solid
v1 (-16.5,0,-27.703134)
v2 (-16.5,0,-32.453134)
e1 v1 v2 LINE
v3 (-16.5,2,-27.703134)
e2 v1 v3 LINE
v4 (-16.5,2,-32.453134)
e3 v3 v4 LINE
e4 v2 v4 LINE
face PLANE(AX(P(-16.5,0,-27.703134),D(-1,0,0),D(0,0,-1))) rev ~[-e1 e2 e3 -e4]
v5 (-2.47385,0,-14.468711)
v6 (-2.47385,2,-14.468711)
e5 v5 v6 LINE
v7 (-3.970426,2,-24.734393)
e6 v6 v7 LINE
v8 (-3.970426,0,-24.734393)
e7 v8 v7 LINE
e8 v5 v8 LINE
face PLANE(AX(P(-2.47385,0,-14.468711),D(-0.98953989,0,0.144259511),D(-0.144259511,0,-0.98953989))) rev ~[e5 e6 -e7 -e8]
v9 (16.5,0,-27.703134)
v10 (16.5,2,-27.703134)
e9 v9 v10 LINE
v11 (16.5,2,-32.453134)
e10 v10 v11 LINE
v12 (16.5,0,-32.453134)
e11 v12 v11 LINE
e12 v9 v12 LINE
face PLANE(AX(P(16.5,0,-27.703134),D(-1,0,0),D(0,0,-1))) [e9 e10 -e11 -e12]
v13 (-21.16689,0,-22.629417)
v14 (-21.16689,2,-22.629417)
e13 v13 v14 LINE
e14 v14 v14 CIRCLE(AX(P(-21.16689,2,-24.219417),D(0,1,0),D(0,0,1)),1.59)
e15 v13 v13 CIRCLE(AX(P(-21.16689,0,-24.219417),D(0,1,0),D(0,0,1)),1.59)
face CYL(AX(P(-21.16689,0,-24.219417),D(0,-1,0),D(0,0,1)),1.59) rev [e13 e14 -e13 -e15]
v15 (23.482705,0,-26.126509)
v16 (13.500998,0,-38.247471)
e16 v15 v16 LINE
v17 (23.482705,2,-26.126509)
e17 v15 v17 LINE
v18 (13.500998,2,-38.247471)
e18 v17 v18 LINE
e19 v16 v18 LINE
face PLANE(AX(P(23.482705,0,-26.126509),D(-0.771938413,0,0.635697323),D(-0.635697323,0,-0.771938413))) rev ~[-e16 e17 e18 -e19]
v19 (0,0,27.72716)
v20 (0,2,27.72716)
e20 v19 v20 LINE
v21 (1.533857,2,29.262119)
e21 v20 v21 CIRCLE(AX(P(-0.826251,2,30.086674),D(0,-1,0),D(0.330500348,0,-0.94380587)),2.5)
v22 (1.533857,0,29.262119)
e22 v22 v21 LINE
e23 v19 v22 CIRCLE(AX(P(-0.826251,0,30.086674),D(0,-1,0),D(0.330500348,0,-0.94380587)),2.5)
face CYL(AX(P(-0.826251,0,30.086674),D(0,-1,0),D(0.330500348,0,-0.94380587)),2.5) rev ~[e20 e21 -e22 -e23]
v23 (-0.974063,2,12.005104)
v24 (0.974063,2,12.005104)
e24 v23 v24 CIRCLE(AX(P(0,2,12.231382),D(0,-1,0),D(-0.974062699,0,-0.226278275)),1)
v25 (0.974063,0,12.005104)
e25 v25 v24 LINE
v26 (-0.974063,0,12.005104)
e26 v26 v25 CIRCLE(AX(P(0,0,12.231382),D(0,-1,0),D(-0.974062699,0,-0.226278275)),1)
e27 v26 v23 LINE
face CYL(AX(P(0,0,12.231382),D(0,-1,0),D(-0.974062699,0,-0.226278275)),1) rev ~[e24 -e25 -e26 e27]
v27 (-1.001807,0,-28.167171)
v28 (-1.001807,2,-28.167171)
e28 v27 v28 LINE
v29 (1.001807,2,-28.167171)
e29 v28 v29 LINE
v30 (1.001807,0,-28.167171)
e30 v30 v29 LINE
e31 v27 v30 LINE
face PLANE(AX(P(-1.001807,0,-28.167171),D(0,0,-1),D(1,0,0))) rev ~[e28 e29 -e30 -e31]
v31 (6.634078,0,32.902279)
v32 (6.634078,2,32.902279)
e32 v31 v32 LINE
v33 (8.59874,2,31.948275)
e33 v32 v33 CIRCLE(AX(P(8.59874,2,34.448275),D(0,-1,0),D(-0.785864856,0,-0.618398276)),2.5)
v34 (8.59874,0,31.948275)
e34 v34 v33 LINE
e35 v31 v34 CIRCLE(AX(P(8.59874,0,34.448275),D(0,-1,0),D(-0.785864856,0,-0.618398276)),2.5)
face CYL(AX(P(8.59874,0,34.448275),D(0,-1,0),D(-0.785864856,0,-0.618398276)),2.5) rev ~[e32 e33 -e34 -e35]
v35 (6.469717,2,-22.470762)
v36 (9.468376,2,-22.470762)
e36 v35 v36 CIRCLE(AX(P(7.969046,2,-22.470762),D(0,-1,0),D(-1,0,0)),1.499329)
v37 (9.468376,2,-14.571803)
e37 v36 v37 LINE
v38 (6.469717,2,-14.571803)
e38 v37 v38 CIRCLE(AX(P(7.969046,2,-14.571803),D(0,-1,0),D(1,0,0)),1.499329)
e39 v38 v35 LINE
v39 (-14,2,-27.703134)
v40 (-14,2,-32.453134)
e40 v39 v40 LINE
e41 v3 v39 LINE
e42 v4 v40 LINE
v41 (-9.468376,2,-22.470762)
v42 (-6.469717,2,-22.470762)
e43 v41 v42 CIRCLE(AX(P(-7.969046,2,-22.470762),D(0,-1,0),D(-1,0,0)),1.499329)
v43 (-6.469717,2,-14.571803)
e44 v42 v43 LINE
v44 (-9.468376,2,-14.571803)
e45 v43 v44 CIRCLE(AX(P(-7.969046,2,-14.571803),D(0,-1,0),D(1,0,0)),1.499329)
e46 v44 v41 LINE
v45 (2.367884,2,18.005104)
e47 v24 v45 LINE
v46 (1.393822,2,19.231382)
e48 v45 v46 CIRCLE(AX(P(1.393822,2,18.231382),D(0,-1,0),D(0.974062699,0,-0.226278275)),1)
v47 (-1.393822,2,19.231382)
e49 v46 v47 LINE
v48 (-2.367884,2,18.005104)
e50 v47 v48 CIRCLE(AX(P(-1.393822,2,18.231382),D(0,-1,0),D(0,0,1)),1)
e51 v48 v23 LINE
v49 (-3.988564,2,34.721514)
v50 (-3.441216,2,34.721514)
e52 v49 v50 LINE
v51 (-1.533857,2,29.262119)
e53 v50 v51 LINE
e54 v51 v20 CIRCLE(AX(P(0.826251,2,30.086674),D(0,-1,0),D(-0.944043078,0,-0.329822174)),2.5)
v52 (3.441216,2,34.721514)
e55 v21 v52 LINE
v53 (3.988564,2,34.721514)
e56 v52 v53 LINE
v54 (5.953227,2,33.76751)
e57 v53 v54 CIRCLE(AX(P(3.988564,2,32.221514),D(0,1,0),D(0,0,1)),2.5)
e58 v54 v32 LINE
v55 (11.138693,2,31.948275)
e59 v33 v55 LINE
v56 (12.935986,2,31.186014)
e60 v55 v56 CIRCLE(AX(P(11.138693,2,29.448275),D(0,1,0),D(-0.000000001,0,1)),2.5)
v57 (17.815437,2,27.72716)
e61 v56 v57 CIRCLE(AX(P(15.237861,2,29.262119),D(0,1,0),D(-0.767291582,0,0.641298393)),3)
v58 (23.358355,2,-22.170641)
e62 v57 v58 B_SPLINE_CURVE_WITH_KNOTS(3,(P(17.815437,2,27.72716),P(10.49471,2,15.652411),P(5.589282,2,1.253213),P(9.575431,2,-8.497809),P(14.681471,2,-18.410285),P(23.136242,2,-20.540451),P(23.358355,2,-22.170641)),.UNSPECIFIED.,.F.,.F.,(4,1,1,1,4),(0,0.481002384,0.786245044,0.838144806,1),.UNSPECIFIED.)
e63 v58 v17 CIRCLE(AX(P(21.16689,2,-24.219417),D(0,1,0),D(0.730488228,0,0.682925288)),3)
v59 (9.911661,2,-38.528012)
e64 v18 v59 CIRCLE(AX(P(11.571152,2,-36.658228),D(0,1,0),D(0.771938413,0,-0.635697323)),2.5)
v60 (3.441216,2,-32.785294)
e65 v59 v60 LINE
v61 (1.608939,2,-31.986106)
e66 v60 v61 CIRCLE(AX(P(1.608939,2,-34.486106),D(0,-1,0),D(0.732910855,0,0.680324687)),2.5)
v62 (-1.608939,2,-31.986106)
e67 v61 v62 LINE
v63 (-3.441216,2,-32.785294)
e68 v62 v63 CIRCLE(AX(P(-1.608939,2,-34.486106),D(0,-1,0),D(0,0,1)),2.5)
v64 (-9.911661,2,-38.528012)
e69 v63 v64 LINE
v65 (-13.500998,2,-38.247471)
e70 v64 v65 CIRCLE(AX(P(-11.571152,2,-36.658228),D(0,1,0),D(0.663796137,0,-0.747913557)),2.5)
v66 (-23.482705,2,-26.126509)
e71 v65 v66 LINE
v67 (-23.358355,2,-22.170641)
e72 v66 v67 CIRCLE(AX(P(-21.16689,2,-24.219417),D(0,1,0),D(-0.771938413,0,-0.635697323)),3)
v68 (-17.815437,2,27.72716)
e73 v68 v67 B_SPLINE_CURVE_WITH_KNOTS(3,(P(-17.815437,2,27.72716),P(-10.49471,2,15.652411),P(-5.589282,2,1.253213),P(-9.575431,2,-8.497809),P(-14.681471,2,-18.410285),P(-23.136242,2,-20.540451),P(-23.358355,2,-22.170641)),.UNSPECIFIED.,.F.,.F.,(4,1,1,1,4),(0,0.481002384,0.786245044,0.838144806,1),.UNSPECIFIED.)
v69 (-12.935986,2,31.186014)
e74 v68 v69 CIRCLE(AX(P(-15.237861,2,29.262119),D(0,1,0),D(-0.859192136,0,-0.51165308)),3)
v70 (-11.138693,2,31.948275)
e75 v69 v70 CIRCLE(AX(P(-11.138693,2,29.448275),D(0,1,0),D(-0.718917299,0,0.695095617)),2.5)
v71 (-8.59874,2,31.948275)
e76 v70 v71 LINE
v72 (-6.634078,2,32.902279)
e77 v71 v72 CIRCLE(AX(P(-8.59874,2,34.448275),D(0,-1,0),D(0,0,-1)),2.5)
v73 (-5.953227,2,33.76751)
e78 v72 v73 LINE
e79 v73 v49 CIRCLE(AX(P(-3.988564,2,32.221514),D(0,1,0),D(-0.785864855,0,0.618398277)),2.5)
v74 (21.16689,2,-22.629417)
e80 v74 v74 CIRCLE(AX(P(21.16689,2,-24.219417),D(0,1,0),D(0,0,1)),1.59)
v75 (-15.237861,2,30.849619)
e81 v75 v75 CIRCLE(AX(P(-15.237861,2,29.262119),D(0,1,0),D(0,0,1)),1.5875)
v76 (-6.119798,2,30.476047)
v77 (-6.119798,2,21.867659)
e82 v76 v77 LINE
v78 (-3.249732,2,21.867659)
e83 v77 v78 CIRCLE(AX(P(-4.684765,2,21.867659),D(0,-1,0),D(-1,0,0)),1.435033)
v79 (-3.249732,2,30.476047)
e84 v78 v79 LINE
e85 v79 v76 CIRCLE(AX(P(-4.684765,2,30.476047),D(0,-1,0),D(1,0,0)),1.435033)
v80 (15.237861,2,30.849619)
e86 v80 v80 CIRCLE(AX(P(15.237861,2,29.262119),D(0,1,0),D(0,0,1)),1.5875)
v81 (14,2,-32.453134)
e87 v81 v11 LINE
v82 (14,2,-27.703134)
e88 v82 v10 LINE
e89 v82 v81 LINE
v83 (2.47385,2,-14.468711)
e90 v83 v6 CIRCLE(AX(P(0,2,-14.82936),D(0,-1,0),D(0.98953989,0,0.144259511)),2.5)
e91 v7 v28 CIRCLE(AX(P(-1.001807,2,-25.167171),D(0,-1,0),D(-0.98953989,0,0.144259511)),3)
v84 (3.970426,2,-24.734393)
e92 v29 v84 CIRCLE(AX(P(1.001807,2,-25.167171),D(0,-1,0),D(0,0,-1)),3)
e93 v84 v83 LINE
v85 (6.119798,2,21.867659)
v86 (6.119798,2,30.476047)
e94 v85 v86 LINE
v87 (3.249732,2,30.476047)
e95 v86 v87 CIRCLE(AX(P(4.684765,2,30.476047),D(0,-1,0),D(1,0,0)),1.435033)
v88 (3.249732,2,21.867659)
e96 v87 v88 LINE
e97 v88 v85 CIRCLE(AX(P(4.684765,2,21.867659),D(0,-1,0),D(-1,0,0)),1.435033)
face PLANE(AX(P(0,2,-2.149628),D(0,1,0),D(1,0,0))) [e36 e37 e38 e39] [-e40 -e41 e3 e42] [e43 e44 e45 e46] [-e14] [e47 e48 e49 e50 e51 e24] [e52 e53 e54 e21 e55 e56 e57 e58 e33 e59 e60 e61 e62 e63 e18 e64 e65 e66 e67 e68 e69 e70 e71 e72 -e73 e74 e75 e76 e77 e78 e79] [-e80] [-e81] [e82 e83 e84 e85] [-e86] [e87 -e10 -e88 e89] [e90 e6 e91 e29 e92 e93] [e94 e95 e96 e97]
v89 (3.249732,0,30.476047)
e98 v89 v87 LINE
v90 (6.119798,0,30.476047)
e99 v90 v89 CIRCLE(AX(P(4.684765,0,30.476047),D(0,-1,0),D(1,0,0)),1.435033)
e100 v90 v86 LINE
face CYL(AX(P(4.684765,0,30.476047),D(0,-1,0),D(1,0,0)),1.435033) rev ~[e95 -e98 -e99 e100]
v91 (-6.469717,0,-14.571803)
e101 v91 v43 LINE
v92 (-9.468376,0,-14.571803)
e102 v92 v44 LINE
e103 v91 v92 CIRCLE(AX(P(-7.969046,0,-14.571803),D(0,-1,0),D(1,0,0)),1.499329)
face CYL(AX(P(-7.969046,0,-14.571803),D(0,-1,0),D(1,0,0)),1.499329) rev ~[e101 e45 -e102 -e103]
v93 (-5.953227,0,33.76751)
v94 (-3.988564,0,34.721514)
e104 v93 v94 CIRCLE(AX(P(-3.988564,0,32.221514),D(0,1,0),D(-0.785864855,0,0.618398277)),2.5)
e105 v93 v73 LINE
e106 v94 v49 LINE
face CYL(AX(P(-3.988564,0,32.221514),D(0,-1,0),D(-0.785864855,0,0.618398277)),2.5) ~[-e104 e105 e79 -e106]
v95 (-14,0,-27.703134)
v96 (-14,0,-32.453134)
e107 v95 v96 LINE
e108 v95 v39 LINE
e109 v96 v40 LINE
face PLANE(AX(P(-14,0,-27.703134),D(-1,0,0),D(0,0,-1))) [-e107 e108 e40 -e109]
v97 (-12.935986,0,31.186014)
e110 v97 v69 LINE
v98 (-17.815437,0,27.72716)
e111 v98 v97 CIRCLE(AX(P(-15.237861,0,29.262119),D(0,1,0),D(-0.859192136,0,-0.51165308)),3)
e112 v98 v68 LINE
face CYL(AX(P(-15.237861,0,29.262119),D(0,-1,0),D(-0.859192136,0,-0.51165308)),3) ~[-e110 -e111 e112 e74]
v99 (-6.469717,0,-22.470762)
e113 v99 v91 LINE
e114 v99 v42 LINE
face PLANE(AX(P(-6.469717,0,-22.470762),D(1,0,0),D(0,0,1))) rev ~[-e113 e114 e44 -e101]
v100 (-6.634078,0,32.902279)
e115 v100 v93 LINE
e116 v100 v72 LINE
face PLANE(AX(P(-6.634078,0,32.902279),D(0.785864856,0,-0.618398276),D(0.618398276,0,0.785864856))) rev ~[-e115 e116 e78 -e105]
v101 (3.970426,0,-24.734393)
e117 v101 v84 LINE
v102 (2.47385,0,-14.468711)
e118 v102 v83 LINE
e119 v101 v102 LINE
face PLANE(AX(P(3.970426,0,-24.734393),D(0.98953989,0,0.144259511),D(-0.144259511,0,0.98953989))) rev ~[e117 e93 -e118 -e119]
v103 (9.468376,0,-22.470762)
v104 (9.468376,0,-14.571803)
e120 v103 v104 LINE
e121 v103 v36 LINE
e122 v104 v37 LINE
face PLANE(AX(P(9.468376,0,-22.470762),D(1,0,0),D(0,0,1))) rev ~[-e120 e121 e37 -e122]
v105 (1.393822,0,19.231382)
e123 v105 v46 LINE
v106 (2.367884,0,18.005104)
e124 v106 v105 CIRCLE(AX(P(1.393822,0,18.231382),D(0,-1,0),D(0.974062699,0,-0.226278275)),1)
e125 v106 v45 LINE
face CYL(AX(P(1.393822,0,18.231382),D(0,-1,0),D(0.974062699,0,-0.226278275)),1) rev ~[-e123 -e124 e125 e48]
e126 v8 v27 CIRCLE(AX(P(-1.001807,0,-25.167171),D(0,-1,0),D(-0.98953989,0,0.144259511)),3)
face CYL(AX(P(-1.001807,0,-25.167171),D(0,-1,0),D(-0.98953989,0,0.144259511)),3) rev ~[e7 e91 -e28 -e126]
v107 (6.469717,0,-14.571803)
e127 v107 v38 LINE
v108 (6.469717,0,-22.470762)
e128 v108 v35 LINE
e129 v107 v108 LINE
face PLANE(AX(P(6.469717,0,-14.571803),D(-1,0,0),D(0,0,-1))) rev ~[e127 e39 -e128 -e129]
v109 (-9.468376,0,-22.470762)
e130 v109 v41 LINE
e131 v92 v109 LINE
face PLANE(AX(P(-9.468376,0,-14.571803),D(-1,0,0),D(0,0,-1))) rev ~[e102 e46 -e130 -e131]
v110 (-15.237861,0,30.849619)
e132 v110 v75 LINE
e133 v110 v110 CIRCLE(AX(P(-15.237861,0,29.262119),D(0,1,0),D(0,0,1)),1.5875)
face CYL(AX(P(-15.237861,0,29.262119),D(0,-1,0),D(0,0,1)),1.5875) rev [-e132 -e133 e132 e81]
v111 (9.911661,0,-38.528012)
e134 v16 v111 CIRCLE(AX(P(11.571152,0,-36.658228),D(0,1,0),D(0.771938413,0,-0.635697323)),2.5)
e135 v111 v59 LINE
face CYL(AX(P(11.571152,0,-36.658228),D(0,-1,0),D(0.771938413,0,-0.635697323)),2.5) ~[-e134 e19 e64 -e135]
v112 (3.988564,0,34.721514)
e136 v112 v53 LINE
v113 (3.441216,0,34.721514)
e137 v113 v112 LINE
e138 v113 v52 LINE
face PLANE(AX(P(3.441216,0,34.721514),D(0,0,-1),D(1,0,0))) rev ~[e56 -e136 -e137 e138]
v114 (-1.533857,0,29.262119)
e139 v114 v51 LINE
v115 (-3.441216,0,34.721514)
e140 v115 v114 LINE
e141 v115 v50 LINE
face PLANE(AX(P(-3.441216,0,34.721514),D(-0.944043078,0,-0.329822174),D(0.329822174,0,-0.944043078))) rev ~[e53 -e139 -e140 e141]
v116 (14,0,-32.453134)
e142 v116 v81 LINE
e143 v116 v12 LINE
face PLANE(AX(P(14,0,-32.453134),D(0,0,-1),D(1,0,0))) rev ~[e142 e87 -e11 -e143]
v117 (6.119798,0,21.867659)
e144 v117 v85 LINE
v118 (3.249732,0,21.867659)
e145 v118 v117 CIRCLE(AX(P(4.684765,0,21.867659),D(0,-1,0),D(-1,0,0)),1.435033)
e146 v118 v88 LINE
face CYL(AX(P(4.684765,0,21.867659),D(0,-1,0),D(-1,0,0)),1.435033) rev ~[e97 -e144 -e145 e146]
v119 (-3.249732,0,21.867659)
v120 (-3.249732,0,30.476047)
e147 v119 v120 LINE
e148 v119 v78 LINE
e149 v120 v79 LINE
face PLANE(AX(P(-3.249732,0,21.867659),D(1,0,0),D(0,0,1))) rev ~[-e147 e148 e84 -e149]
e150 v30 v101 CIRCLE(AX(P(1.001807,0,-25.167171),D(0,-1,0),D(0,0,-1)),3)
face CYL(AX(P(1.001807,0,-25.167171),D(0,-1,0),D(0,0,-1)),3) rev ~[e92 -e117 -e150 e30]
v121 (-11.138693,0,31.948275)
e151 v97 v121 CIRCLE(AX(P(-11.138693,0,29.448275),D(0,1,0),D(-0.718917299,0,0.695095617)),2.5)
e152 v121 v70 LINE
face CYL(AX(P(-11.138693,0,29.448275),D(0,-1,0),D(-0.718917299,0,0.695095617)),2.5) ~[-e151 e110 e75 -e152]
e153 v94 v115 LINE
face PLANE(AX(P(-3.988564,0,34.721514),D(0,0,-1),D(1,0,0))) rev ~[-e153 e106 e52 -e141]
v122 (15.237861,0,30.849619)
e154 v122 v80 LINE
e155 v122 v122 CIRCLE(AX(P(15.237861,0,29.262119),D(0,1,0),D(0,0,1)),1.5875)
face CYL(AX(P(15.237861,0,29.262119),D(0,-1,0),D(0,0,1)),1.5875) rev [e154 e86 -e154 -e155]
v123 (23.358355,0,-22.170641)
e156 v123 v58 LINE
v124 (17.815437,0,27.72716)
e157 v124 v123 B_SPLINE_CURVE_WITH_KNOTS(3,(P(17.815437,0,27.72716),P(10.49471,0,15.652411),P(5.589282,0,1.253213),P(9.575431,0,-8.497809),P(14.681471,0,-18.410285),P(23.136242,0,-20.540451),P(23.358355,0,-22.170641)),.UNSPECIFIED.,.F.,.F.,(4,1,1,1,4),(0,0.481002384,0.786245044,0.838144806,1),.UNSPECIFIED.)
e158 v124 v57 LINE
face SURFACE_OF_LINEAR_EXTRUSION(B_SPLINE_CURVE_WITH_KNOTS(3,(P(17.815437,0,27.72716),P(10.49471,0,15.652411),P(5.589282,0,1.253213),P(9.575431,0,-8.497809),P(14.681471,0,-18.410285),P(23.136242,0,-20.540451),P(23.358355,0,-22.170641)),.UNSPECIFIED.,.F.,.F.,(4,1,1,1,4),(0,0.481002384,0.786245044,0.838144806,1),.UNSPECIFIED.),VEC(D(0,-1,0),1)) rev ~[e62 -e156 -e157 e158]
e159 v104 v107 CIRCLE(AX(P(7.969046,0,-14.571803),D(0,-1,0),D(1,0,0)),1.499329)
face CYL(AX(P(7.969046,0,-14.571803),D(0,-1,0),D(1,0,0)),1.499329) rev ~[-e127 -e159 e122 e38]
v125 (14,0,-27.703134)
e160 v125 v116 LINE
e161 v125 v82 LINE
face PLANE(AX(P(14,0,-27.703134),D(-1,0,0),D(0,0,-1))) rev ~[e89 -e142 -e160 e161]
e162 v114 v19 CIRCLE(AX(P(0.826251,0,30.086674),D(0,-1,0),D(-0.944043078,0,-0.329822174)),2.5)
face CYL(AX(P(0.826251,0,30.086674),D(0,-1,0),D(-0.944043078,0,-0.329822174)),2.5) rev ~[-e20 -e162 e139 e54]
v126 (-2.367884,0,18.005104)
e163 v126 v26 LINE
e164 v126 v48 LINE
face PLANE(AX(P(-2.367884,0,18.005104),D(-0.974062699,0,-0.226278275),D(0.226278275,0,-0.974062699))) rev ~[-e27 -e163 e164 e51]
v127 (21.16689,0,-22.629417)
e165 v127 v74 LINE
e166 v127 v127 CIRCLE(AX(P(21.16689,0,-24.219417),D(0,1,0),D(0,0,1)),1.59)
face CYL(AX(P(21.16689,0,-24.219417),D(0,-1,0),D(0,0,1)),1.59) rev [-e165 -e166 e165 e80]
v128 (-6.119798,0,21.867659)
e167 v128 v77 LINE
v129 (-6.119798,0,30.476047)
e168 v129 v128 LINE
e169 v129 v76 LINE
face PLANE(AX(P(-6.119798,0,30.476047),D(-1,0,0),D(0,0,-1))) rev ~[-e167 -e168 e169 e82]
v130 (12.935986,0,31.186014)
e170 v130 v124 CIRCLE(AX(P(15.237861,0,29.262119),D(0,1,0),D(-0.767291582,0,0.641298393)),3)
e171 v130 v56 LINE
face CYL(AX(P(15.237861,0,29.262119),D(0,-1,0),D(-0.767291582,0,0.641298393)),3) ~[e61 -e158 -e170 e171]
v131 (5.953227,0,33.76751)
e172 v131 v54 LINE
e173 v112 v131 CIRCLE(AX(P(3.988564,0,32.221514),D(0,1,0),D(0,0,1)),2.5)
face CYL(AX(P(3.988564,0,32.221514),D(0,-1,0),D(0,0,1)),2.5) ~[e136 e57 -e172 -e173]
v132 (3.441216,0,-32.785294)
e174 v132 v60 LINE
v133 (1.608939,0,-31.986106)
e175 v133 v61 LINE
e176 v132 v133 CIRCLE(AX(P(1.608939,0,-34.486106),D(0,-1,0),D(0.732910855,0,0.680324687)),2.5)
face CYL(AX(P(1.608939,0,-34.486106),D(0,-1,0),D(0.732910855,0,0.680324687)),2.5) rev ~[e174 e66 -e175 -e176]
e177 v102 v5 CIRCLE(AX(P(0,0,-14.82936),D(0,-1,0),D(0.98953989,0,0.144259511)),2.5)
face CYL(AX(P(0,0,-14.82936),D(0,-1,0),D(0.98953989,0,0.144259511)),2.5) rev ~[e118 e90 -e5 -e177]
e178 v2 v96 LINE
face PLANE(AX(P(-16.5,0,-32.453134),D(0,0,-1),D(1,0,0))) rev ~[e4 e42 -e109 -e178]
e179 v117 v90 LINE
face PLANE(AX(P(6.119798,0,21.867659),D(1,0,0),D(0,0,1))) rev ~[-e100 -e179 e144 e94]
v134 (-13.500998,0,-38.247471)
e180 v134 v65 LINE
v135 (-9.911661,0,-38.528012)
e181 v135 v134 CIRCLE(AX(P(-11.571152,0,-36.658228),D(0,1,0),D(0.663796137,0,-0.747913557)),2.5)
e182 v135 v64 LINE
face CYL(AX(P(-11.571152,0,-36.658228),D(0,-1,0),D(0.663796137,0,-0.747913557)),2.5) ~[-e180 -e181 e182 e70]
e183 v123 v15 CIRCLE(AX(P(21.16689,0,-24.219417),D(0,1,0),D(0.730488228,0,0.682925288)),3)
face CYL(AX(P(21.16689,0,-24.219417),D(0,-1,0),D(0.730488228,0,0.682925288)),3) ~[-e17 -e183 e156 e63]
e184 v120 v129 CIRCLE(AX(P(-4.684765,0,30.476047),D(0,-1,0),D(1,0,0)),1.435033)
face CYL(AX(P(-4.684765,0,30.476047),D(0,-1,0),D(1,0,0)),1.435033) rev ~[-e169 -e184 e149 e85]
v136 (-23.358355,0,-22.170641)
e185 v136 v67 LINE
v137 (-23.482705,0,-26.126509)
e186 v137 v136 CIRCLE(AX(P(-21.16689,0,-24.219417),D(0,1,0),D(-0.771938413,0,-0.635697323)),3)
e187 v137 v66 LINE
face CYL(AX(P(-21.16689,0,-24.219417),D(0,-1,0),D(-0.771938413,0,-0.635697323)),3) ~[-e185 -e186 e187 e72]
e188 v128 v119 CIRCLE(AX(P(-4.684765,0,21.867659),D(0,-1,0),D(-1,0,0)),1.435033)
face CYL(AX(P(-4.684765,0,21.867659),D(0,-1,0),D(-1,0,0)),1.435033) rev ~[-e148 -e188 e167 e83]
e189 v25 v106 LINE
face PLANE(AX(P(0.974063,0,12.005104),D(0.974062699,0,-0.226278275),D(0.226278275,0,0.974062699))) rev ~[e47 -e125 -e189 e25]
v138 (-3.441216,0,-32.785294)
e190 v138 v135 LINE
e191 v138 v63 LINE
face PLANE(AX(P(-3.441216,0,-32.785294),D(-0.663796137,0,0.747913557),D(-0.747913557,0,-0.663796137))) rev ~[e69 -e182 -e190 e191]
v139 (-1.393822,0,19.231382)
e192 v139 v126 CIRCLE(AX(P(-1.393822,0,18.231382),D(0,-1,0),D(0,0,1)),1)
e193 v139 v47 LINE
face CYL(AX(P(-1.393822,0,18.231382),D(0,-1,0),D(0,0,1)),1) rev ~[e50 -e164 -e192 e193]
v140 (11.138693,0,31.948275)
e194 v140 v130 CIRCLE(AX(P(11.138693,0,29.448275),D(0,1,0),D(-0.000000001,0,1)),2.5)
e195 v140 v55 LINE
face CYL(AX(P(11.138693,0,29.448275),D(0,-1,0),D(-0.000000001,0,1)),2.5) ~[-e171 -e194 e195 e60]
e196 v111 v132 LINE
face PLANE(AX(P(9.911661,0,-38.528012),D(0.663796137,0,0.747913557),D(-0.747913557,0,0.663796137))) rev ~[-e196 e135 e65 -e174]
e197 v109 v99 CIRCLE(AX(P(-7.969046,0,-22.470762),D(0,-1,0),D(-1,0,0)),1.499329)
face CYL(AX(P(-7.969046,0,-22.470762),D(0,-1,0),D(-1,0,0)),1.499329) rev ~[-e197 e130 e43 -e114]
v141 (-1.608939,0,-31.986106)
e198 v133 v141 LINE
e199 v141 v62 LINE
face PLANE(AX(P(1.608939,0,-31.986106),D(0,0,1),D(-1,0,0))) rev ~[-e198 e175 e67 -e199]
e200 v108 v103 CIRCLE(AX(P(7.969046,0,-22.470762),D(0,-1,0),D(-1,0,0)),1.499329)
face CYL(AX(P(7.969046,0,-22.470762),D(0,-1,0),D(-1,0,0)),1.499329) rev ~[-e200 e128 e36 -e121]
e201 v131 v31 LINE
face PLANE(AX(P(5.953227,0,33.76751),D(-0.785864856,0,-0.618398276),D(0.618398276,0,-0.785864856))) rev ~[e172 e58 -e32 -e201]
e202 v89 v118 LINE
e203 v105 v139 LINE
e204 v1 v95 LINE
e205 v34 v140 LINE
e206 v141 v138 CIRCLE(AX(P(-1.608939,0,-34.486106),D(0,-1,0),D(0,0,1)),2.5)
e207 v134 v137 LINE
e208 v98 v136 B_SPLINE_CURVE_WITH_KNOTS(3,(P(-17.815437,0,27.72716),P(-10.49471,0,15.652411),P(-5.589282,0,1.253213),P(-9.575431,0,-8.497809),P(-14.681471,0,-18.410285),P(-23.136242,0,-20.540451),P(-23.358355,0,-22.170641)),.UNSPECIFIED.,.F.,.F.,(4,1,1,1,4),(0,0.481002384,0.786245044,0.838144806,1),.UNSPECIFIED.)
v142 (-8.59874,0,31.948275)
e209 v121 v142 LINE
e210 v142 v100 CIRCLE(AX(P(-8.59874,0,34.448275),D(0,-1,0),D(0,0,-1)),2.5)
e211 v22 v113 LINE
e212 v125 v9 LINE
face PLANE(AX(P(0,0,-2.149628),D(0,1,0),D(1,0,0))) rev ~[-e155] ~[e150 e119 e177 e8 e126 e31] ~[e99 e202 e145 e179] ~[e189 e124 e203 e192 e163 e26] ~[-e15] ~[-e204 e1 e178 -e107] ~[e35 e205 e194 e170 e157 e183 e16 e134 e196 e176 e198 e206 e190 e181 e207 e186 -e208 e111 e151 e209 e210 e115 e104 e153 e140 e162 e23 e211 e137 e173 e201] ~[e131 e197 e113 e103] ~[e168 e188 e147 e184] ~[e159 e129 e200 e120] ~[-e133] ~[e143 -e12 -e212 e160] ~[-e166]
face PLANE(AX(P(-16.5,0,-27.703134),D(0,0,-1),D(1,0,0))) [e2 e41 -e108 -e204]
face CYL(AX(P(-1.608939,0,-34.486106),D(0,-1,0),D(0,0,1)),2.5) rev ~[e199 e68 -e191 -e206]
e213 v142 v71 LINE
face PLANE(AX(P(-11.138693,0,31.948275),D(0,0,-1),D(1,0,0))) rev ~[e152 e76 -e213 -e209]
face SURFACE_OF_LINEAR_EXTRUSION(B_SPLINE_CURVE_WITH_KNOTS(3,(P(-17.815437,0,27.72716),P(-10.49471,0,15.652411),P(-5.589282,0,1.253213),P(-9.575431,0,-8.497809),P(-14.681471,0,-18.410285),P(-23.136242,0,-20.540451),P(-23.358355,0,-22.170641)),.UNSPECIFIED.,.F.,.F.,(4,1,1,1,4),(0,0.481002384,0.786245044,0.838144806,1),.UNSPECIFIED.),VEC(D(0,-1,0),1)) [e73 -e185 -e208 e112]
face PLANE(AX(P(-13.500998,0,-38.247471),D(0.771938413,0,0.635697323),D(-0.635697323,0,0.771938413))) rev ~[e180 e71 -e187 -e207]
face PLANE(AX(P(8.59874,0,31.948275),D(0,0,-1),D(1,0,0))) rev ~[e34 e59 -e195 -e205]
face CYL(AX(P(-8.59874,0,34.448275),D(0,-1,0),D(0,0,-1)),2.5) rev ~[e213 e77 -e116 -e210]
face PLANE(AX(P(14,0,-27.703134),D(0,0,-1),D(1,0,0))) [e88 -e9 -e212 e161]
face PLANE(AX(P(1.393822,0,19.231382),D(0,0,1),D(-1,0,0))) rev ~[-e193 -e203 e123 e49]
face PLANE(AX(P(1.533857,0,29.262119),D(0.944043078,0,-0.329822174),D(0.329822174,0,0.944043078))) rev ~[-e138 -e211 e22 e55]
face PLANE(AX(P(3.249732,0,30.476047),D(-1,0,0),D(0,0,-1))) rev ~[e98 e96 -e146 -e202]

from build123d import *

# Parameters (mm, degrees)
CROQUIS1_R              = 1.5875
CROQUIS1_R_2            = 1.59
CROQUIS1_W              = 2.5
CROQUIS1_H              = 4.75
SALIENTE_EXTRUIR2_DEPTH = 2


with BuildPart() as part:
    # Croquis1 → Saliente-Extruir2 (new body)
    with BuildSketch(Plane(origin=(0, 0, 0), x_dir=(1, 0, 0), z_dir=(0, 1, 0))):
        with BuildLine():
            Line((-13.500997661, 38.247470948), (-23.48270506, 26.126508519))
            ThreePointArc((-23.48270506, 26.126508519), (-24.165408731, 24.125159739), (-23.358354505, 22.170640687))
            add(Edge.make_bspline(
                [(-17.815436951, -27.727159764), (-10.494709665, -15.652410543), (-5.589282311, -1.253212627), (-9.575431127, 8.497808826), (-14.681470714, 18.410285079), (-23.136242341, 20.540450982), (-23.358354505, 22.170640687)],
                knots=[0, 0, 0, 0, 0.481002384, 0.786245044, 0.838144806, 1, 1, 1, 1], degree=3))
            ThreePointArc((-17.815436951, -27.727159764), (-16.972773026, -31.709582726), (-12.935985799, -31.186014181))
            ThreePointArc((-12.935985799, -31.186014181), (-12.114820717, -31.749834132), (-11.138692552, -31.948275137))
            Line((-11.138692552, -31.948275137), (-8.598739942, -31.948275137))
            ThreePointArc((-8.598739942, -31.948275137), (-7.506720993, -32.19938772), (-6.634077803, -32.902279446))
            Line((-6.634077803, -32.902279446), (-5.953226574, -33.767509951))
            ThreePointArc((-5.953226574, -33.767509951), (-5.080583384, -34.470401676), (-3.988564435, -34.721514259))
            Line((-3.988564435, -34.721514259), (-3.441216411, -34.721514259))
            Line((-3.441216411, -34.721514259), (-1.533856825, -29.262119003))
            ThreePointArc((-1.533856825, -29.262119003), (-0.942151005, -28.319542636), (0, -27.727159764))
            ThreePointArc((0, -27.727159764), (0.942151005, -28.319542636), (1.533856825, -29.262119003))
            Line((1.533856825, -29.262119003), (3.441216411, -34.721514259))
            Line((3.441216411, -34.721514259), (3.988564435, -34.721514259))
            ThreePointArc((3.988564435, -34.721514259), (5.080583384, -34.470401676), (5.953226574, -33.767509951))
            Line((5.953226574, -33.767509951), (6.634077803, -32.902279446))
            ThreePointArc((6.634077803, -32.902279446), (7.506720993, -32.19938772), (8.598739942, -31.948275137))
            Line((8.598739942, -31.948275137), (11.138692552, -31.948275137))
            ThreePointArc((11.138692552, -31.948275137), (12.114820717, -31.749834132), (12.935985799, -31.186014181))
            ThreePointArc((12.935985799, -31.186014181), (16.972773026, -31.709582726), (17.815436951, -27.727159764))
            add(Edge.make_bspline(
                [(17.815436951, -27.727159764), (10.494709665, -15.652410543), (5.589282311, -1.253212627), (9.575431127, 8.497808826), (14.681470714, 18.410285079), (23.136242341, 20.540450982), (23.358354505, 22.170640687)],
                knots=[0, 0, 0, 0, 0.481002384, 0.786245044, 0.838144806, 1, 1, 1, 1], degree=3))
            ThreePointArc((23.358354505, 22.170640687), (24.165408731, 24.125159739), (23.48270506, 26.126508519))
            Line((23.48270506, 26.126508519), (13.500997661, 38.247470948))
            ThreePointArc((13.500997661, 38.247470948), (11.765956158, 39.150626323), (9.911661286, 38.528011532))
            Line((9.911661286, 38.528011532), (3.441216411, 32.785293976))
            ThreePointArc((3.441216411, 32.785293976), (2.608431822, 32.194596441), (1.608939272, 31.986105691))
            Line((1.608939272, 31.986105691), (0.563987286, 31.986105691))
            Line((0.563987286, 31.986105691), (-0.563987286, 31.986105691))
            Line((-0.563987286, 31.986105691), (-1.608939272, 31.986105691))
            ThreePointArc((-1.608939272, 31.986105691), (-2.608431822, 32.194596441), (-3.441216411, 32.785293976))
            Line((-3.441216411, 32.785293976), (-9.911661286, 38.528011532))
            ThreePointArc((-9.911661286, 38.528011532), (-11.765956158, 39.150626323), (-13.500997661, 38.247470948))
        make_face()
        with Locations(Location((-15.237860544, -29.262119003, 0), (0, 0, 270))):
            Circle(CROQUIS1_R, mode=Mode.SUBTRACT)
        with BuildLine():
            ThreePointArc((-6.119798022, -21.867659367), (-4.684765235, -20.432626581), (-3.249732449, -21.867659367))
            Line((-3.249732449, -21.867659367), (-3.249732449, -30.47604675))
            ThreePointArc((-3.249732449, -30.47604675), (-4.684765235, -31.911079536), (-6.119798022, -30.47604675))
            Line((-6.119798022, -30.47604675), (-6.119798022, -21.867659367))
        make_face(mode=Mode.SUBTRACT)
        with BuildLine():
            Line((3.249732449, -30.47604675), (3.249732449, -21.867659367))
            ThreePointArc((3.249732449, -21.867659367), (4.684765235, -20.432626581), (6.119798022, -21.867659367))
            Line((6.119798022, -21.867659367), (6.119798022, -30.47604675))
            ThreePointArc((6.119798022, -30.47604675), (4.684765235, -31.911079536), (3.249732449, -30.47604675))
        make_face(mode=Mode.SUBTRACT)
        with Locations(Location((15.237860544, -29.262119003, 0), (0, 0, 270))):
            Circle(CROQUIS1_R, mode=Mode.SUBTRACT)
        with BuildLine():
            Line((-2.367884319, -18.005103727), (-0.974062699, -12.005103727))
            ThreePointArc((-0.974062699, -12.005103727), (0, -11.231382002), (0.974062699, -12.005103727))
            Line((0.974062699, -12.005103727), (2.367884319, -18.005103727))
            ThreePointArc((2.367884319, -18.005103727), (2.176853635, -18.853363403), (1.39382162, -19.231382002))
            Line((1.39382162, -19.231382002), (0.763866627, -19.231382002))
            Line((0.763866627, -19.231382002), (-0.763866627, -19.231382002))
            Line((-0.763866627, -19.231382002), (-1.39382162, -19.231382002))
            ThreePointArc((-1.39382162, -19.231382002), (-2.176853635, -18.853363403), (-2.367884319, -18.005103727))
        make_face(mode=Mode.SUBTRACT)
        with BuildLine():
            ThreePointArc((-9.468375509, 22.47076229), (-7.969046344, 23.970091456), (-6.469717178, 22.47076229))
            Line((-6.469717178, 22.47076229), (-6.469717178, 14.571803083))
            ThreePointArc((-6.469717178, 14.571803083), (-7.969046344, 13.072473917), (-9.468375509, 14.571803083))
            Line((-9.468375509, 14.571803083), (-9.468375509, 22.47076229))
        make_face(mode=Mode.SUBTRACT)
        with BuildLine():
            ThreePointArc((-3.970426322, 24.734392618), (-3.270984433, 27.12952489), (-1.001806653, 28.16717115))
            Line((-1.001806653, 28.16717115), (1.001806653, 28.16717115))
            ThreePointArc((1.001806653, 28.16717115), (3.270984433, 27.12952489), (3.970426322, 24.734392618))
            Line((3.970426322, 24.734392618), (2.473849725, 14.468710767))
            ThreePointArc((2.473849725, 14.468710767), (0, 12.329359543), (-2.473849725, 14.468710767))
            Line((-2.473849725, 14.468710767), (-3.970426322, 24.734392618))
        make_face(mode=Mode.SUBTRACT)
        with Locations(Location((-21.166889821, 24.21941655, 0), (0, 0, 270))):
            Circle(CROQUIS1_R_2, mode=Mode.SUBTRACT)
        with Locations((-15.25, 30.078133807)):
            Rectangle(CROQUIS1_W, CROQUIS1_H, mode=Mode.SUBTRACT)
        with BuildLine():
            Line((6.469717178, 14.571803083), (6.469717178, 22.47076229))
            ThreePointArc((6.469717178, 22.47076229), (7.969046344, 23.970091456), (9.468375509, 22.47076229))
            Line((9.468375509, 22.47076229), (9.468375509, 14.571803083))
            ThreePointArc((9.468375509, 14.571803083), (7.969046344, 13.072473917), (6.469717178, 14.571803083))
        make_face(mode=Mode.SUBTRACT)
        with Locations(Location((21.166889821, 24.21941655, 0), (0, 0, 270))):
            Circle(CROQUIS1_R_2, mode=Mode.SUBTRACT)
        with Locations((15.25, 30.078133807)):
            Rectangle(CROQUIS1_W, CROQUIS1_H, mode=Mode.SUBTRACT)
    extrude(amount=SALIENTE_EXTRUIR2_DEPTH)


solid = part.part
